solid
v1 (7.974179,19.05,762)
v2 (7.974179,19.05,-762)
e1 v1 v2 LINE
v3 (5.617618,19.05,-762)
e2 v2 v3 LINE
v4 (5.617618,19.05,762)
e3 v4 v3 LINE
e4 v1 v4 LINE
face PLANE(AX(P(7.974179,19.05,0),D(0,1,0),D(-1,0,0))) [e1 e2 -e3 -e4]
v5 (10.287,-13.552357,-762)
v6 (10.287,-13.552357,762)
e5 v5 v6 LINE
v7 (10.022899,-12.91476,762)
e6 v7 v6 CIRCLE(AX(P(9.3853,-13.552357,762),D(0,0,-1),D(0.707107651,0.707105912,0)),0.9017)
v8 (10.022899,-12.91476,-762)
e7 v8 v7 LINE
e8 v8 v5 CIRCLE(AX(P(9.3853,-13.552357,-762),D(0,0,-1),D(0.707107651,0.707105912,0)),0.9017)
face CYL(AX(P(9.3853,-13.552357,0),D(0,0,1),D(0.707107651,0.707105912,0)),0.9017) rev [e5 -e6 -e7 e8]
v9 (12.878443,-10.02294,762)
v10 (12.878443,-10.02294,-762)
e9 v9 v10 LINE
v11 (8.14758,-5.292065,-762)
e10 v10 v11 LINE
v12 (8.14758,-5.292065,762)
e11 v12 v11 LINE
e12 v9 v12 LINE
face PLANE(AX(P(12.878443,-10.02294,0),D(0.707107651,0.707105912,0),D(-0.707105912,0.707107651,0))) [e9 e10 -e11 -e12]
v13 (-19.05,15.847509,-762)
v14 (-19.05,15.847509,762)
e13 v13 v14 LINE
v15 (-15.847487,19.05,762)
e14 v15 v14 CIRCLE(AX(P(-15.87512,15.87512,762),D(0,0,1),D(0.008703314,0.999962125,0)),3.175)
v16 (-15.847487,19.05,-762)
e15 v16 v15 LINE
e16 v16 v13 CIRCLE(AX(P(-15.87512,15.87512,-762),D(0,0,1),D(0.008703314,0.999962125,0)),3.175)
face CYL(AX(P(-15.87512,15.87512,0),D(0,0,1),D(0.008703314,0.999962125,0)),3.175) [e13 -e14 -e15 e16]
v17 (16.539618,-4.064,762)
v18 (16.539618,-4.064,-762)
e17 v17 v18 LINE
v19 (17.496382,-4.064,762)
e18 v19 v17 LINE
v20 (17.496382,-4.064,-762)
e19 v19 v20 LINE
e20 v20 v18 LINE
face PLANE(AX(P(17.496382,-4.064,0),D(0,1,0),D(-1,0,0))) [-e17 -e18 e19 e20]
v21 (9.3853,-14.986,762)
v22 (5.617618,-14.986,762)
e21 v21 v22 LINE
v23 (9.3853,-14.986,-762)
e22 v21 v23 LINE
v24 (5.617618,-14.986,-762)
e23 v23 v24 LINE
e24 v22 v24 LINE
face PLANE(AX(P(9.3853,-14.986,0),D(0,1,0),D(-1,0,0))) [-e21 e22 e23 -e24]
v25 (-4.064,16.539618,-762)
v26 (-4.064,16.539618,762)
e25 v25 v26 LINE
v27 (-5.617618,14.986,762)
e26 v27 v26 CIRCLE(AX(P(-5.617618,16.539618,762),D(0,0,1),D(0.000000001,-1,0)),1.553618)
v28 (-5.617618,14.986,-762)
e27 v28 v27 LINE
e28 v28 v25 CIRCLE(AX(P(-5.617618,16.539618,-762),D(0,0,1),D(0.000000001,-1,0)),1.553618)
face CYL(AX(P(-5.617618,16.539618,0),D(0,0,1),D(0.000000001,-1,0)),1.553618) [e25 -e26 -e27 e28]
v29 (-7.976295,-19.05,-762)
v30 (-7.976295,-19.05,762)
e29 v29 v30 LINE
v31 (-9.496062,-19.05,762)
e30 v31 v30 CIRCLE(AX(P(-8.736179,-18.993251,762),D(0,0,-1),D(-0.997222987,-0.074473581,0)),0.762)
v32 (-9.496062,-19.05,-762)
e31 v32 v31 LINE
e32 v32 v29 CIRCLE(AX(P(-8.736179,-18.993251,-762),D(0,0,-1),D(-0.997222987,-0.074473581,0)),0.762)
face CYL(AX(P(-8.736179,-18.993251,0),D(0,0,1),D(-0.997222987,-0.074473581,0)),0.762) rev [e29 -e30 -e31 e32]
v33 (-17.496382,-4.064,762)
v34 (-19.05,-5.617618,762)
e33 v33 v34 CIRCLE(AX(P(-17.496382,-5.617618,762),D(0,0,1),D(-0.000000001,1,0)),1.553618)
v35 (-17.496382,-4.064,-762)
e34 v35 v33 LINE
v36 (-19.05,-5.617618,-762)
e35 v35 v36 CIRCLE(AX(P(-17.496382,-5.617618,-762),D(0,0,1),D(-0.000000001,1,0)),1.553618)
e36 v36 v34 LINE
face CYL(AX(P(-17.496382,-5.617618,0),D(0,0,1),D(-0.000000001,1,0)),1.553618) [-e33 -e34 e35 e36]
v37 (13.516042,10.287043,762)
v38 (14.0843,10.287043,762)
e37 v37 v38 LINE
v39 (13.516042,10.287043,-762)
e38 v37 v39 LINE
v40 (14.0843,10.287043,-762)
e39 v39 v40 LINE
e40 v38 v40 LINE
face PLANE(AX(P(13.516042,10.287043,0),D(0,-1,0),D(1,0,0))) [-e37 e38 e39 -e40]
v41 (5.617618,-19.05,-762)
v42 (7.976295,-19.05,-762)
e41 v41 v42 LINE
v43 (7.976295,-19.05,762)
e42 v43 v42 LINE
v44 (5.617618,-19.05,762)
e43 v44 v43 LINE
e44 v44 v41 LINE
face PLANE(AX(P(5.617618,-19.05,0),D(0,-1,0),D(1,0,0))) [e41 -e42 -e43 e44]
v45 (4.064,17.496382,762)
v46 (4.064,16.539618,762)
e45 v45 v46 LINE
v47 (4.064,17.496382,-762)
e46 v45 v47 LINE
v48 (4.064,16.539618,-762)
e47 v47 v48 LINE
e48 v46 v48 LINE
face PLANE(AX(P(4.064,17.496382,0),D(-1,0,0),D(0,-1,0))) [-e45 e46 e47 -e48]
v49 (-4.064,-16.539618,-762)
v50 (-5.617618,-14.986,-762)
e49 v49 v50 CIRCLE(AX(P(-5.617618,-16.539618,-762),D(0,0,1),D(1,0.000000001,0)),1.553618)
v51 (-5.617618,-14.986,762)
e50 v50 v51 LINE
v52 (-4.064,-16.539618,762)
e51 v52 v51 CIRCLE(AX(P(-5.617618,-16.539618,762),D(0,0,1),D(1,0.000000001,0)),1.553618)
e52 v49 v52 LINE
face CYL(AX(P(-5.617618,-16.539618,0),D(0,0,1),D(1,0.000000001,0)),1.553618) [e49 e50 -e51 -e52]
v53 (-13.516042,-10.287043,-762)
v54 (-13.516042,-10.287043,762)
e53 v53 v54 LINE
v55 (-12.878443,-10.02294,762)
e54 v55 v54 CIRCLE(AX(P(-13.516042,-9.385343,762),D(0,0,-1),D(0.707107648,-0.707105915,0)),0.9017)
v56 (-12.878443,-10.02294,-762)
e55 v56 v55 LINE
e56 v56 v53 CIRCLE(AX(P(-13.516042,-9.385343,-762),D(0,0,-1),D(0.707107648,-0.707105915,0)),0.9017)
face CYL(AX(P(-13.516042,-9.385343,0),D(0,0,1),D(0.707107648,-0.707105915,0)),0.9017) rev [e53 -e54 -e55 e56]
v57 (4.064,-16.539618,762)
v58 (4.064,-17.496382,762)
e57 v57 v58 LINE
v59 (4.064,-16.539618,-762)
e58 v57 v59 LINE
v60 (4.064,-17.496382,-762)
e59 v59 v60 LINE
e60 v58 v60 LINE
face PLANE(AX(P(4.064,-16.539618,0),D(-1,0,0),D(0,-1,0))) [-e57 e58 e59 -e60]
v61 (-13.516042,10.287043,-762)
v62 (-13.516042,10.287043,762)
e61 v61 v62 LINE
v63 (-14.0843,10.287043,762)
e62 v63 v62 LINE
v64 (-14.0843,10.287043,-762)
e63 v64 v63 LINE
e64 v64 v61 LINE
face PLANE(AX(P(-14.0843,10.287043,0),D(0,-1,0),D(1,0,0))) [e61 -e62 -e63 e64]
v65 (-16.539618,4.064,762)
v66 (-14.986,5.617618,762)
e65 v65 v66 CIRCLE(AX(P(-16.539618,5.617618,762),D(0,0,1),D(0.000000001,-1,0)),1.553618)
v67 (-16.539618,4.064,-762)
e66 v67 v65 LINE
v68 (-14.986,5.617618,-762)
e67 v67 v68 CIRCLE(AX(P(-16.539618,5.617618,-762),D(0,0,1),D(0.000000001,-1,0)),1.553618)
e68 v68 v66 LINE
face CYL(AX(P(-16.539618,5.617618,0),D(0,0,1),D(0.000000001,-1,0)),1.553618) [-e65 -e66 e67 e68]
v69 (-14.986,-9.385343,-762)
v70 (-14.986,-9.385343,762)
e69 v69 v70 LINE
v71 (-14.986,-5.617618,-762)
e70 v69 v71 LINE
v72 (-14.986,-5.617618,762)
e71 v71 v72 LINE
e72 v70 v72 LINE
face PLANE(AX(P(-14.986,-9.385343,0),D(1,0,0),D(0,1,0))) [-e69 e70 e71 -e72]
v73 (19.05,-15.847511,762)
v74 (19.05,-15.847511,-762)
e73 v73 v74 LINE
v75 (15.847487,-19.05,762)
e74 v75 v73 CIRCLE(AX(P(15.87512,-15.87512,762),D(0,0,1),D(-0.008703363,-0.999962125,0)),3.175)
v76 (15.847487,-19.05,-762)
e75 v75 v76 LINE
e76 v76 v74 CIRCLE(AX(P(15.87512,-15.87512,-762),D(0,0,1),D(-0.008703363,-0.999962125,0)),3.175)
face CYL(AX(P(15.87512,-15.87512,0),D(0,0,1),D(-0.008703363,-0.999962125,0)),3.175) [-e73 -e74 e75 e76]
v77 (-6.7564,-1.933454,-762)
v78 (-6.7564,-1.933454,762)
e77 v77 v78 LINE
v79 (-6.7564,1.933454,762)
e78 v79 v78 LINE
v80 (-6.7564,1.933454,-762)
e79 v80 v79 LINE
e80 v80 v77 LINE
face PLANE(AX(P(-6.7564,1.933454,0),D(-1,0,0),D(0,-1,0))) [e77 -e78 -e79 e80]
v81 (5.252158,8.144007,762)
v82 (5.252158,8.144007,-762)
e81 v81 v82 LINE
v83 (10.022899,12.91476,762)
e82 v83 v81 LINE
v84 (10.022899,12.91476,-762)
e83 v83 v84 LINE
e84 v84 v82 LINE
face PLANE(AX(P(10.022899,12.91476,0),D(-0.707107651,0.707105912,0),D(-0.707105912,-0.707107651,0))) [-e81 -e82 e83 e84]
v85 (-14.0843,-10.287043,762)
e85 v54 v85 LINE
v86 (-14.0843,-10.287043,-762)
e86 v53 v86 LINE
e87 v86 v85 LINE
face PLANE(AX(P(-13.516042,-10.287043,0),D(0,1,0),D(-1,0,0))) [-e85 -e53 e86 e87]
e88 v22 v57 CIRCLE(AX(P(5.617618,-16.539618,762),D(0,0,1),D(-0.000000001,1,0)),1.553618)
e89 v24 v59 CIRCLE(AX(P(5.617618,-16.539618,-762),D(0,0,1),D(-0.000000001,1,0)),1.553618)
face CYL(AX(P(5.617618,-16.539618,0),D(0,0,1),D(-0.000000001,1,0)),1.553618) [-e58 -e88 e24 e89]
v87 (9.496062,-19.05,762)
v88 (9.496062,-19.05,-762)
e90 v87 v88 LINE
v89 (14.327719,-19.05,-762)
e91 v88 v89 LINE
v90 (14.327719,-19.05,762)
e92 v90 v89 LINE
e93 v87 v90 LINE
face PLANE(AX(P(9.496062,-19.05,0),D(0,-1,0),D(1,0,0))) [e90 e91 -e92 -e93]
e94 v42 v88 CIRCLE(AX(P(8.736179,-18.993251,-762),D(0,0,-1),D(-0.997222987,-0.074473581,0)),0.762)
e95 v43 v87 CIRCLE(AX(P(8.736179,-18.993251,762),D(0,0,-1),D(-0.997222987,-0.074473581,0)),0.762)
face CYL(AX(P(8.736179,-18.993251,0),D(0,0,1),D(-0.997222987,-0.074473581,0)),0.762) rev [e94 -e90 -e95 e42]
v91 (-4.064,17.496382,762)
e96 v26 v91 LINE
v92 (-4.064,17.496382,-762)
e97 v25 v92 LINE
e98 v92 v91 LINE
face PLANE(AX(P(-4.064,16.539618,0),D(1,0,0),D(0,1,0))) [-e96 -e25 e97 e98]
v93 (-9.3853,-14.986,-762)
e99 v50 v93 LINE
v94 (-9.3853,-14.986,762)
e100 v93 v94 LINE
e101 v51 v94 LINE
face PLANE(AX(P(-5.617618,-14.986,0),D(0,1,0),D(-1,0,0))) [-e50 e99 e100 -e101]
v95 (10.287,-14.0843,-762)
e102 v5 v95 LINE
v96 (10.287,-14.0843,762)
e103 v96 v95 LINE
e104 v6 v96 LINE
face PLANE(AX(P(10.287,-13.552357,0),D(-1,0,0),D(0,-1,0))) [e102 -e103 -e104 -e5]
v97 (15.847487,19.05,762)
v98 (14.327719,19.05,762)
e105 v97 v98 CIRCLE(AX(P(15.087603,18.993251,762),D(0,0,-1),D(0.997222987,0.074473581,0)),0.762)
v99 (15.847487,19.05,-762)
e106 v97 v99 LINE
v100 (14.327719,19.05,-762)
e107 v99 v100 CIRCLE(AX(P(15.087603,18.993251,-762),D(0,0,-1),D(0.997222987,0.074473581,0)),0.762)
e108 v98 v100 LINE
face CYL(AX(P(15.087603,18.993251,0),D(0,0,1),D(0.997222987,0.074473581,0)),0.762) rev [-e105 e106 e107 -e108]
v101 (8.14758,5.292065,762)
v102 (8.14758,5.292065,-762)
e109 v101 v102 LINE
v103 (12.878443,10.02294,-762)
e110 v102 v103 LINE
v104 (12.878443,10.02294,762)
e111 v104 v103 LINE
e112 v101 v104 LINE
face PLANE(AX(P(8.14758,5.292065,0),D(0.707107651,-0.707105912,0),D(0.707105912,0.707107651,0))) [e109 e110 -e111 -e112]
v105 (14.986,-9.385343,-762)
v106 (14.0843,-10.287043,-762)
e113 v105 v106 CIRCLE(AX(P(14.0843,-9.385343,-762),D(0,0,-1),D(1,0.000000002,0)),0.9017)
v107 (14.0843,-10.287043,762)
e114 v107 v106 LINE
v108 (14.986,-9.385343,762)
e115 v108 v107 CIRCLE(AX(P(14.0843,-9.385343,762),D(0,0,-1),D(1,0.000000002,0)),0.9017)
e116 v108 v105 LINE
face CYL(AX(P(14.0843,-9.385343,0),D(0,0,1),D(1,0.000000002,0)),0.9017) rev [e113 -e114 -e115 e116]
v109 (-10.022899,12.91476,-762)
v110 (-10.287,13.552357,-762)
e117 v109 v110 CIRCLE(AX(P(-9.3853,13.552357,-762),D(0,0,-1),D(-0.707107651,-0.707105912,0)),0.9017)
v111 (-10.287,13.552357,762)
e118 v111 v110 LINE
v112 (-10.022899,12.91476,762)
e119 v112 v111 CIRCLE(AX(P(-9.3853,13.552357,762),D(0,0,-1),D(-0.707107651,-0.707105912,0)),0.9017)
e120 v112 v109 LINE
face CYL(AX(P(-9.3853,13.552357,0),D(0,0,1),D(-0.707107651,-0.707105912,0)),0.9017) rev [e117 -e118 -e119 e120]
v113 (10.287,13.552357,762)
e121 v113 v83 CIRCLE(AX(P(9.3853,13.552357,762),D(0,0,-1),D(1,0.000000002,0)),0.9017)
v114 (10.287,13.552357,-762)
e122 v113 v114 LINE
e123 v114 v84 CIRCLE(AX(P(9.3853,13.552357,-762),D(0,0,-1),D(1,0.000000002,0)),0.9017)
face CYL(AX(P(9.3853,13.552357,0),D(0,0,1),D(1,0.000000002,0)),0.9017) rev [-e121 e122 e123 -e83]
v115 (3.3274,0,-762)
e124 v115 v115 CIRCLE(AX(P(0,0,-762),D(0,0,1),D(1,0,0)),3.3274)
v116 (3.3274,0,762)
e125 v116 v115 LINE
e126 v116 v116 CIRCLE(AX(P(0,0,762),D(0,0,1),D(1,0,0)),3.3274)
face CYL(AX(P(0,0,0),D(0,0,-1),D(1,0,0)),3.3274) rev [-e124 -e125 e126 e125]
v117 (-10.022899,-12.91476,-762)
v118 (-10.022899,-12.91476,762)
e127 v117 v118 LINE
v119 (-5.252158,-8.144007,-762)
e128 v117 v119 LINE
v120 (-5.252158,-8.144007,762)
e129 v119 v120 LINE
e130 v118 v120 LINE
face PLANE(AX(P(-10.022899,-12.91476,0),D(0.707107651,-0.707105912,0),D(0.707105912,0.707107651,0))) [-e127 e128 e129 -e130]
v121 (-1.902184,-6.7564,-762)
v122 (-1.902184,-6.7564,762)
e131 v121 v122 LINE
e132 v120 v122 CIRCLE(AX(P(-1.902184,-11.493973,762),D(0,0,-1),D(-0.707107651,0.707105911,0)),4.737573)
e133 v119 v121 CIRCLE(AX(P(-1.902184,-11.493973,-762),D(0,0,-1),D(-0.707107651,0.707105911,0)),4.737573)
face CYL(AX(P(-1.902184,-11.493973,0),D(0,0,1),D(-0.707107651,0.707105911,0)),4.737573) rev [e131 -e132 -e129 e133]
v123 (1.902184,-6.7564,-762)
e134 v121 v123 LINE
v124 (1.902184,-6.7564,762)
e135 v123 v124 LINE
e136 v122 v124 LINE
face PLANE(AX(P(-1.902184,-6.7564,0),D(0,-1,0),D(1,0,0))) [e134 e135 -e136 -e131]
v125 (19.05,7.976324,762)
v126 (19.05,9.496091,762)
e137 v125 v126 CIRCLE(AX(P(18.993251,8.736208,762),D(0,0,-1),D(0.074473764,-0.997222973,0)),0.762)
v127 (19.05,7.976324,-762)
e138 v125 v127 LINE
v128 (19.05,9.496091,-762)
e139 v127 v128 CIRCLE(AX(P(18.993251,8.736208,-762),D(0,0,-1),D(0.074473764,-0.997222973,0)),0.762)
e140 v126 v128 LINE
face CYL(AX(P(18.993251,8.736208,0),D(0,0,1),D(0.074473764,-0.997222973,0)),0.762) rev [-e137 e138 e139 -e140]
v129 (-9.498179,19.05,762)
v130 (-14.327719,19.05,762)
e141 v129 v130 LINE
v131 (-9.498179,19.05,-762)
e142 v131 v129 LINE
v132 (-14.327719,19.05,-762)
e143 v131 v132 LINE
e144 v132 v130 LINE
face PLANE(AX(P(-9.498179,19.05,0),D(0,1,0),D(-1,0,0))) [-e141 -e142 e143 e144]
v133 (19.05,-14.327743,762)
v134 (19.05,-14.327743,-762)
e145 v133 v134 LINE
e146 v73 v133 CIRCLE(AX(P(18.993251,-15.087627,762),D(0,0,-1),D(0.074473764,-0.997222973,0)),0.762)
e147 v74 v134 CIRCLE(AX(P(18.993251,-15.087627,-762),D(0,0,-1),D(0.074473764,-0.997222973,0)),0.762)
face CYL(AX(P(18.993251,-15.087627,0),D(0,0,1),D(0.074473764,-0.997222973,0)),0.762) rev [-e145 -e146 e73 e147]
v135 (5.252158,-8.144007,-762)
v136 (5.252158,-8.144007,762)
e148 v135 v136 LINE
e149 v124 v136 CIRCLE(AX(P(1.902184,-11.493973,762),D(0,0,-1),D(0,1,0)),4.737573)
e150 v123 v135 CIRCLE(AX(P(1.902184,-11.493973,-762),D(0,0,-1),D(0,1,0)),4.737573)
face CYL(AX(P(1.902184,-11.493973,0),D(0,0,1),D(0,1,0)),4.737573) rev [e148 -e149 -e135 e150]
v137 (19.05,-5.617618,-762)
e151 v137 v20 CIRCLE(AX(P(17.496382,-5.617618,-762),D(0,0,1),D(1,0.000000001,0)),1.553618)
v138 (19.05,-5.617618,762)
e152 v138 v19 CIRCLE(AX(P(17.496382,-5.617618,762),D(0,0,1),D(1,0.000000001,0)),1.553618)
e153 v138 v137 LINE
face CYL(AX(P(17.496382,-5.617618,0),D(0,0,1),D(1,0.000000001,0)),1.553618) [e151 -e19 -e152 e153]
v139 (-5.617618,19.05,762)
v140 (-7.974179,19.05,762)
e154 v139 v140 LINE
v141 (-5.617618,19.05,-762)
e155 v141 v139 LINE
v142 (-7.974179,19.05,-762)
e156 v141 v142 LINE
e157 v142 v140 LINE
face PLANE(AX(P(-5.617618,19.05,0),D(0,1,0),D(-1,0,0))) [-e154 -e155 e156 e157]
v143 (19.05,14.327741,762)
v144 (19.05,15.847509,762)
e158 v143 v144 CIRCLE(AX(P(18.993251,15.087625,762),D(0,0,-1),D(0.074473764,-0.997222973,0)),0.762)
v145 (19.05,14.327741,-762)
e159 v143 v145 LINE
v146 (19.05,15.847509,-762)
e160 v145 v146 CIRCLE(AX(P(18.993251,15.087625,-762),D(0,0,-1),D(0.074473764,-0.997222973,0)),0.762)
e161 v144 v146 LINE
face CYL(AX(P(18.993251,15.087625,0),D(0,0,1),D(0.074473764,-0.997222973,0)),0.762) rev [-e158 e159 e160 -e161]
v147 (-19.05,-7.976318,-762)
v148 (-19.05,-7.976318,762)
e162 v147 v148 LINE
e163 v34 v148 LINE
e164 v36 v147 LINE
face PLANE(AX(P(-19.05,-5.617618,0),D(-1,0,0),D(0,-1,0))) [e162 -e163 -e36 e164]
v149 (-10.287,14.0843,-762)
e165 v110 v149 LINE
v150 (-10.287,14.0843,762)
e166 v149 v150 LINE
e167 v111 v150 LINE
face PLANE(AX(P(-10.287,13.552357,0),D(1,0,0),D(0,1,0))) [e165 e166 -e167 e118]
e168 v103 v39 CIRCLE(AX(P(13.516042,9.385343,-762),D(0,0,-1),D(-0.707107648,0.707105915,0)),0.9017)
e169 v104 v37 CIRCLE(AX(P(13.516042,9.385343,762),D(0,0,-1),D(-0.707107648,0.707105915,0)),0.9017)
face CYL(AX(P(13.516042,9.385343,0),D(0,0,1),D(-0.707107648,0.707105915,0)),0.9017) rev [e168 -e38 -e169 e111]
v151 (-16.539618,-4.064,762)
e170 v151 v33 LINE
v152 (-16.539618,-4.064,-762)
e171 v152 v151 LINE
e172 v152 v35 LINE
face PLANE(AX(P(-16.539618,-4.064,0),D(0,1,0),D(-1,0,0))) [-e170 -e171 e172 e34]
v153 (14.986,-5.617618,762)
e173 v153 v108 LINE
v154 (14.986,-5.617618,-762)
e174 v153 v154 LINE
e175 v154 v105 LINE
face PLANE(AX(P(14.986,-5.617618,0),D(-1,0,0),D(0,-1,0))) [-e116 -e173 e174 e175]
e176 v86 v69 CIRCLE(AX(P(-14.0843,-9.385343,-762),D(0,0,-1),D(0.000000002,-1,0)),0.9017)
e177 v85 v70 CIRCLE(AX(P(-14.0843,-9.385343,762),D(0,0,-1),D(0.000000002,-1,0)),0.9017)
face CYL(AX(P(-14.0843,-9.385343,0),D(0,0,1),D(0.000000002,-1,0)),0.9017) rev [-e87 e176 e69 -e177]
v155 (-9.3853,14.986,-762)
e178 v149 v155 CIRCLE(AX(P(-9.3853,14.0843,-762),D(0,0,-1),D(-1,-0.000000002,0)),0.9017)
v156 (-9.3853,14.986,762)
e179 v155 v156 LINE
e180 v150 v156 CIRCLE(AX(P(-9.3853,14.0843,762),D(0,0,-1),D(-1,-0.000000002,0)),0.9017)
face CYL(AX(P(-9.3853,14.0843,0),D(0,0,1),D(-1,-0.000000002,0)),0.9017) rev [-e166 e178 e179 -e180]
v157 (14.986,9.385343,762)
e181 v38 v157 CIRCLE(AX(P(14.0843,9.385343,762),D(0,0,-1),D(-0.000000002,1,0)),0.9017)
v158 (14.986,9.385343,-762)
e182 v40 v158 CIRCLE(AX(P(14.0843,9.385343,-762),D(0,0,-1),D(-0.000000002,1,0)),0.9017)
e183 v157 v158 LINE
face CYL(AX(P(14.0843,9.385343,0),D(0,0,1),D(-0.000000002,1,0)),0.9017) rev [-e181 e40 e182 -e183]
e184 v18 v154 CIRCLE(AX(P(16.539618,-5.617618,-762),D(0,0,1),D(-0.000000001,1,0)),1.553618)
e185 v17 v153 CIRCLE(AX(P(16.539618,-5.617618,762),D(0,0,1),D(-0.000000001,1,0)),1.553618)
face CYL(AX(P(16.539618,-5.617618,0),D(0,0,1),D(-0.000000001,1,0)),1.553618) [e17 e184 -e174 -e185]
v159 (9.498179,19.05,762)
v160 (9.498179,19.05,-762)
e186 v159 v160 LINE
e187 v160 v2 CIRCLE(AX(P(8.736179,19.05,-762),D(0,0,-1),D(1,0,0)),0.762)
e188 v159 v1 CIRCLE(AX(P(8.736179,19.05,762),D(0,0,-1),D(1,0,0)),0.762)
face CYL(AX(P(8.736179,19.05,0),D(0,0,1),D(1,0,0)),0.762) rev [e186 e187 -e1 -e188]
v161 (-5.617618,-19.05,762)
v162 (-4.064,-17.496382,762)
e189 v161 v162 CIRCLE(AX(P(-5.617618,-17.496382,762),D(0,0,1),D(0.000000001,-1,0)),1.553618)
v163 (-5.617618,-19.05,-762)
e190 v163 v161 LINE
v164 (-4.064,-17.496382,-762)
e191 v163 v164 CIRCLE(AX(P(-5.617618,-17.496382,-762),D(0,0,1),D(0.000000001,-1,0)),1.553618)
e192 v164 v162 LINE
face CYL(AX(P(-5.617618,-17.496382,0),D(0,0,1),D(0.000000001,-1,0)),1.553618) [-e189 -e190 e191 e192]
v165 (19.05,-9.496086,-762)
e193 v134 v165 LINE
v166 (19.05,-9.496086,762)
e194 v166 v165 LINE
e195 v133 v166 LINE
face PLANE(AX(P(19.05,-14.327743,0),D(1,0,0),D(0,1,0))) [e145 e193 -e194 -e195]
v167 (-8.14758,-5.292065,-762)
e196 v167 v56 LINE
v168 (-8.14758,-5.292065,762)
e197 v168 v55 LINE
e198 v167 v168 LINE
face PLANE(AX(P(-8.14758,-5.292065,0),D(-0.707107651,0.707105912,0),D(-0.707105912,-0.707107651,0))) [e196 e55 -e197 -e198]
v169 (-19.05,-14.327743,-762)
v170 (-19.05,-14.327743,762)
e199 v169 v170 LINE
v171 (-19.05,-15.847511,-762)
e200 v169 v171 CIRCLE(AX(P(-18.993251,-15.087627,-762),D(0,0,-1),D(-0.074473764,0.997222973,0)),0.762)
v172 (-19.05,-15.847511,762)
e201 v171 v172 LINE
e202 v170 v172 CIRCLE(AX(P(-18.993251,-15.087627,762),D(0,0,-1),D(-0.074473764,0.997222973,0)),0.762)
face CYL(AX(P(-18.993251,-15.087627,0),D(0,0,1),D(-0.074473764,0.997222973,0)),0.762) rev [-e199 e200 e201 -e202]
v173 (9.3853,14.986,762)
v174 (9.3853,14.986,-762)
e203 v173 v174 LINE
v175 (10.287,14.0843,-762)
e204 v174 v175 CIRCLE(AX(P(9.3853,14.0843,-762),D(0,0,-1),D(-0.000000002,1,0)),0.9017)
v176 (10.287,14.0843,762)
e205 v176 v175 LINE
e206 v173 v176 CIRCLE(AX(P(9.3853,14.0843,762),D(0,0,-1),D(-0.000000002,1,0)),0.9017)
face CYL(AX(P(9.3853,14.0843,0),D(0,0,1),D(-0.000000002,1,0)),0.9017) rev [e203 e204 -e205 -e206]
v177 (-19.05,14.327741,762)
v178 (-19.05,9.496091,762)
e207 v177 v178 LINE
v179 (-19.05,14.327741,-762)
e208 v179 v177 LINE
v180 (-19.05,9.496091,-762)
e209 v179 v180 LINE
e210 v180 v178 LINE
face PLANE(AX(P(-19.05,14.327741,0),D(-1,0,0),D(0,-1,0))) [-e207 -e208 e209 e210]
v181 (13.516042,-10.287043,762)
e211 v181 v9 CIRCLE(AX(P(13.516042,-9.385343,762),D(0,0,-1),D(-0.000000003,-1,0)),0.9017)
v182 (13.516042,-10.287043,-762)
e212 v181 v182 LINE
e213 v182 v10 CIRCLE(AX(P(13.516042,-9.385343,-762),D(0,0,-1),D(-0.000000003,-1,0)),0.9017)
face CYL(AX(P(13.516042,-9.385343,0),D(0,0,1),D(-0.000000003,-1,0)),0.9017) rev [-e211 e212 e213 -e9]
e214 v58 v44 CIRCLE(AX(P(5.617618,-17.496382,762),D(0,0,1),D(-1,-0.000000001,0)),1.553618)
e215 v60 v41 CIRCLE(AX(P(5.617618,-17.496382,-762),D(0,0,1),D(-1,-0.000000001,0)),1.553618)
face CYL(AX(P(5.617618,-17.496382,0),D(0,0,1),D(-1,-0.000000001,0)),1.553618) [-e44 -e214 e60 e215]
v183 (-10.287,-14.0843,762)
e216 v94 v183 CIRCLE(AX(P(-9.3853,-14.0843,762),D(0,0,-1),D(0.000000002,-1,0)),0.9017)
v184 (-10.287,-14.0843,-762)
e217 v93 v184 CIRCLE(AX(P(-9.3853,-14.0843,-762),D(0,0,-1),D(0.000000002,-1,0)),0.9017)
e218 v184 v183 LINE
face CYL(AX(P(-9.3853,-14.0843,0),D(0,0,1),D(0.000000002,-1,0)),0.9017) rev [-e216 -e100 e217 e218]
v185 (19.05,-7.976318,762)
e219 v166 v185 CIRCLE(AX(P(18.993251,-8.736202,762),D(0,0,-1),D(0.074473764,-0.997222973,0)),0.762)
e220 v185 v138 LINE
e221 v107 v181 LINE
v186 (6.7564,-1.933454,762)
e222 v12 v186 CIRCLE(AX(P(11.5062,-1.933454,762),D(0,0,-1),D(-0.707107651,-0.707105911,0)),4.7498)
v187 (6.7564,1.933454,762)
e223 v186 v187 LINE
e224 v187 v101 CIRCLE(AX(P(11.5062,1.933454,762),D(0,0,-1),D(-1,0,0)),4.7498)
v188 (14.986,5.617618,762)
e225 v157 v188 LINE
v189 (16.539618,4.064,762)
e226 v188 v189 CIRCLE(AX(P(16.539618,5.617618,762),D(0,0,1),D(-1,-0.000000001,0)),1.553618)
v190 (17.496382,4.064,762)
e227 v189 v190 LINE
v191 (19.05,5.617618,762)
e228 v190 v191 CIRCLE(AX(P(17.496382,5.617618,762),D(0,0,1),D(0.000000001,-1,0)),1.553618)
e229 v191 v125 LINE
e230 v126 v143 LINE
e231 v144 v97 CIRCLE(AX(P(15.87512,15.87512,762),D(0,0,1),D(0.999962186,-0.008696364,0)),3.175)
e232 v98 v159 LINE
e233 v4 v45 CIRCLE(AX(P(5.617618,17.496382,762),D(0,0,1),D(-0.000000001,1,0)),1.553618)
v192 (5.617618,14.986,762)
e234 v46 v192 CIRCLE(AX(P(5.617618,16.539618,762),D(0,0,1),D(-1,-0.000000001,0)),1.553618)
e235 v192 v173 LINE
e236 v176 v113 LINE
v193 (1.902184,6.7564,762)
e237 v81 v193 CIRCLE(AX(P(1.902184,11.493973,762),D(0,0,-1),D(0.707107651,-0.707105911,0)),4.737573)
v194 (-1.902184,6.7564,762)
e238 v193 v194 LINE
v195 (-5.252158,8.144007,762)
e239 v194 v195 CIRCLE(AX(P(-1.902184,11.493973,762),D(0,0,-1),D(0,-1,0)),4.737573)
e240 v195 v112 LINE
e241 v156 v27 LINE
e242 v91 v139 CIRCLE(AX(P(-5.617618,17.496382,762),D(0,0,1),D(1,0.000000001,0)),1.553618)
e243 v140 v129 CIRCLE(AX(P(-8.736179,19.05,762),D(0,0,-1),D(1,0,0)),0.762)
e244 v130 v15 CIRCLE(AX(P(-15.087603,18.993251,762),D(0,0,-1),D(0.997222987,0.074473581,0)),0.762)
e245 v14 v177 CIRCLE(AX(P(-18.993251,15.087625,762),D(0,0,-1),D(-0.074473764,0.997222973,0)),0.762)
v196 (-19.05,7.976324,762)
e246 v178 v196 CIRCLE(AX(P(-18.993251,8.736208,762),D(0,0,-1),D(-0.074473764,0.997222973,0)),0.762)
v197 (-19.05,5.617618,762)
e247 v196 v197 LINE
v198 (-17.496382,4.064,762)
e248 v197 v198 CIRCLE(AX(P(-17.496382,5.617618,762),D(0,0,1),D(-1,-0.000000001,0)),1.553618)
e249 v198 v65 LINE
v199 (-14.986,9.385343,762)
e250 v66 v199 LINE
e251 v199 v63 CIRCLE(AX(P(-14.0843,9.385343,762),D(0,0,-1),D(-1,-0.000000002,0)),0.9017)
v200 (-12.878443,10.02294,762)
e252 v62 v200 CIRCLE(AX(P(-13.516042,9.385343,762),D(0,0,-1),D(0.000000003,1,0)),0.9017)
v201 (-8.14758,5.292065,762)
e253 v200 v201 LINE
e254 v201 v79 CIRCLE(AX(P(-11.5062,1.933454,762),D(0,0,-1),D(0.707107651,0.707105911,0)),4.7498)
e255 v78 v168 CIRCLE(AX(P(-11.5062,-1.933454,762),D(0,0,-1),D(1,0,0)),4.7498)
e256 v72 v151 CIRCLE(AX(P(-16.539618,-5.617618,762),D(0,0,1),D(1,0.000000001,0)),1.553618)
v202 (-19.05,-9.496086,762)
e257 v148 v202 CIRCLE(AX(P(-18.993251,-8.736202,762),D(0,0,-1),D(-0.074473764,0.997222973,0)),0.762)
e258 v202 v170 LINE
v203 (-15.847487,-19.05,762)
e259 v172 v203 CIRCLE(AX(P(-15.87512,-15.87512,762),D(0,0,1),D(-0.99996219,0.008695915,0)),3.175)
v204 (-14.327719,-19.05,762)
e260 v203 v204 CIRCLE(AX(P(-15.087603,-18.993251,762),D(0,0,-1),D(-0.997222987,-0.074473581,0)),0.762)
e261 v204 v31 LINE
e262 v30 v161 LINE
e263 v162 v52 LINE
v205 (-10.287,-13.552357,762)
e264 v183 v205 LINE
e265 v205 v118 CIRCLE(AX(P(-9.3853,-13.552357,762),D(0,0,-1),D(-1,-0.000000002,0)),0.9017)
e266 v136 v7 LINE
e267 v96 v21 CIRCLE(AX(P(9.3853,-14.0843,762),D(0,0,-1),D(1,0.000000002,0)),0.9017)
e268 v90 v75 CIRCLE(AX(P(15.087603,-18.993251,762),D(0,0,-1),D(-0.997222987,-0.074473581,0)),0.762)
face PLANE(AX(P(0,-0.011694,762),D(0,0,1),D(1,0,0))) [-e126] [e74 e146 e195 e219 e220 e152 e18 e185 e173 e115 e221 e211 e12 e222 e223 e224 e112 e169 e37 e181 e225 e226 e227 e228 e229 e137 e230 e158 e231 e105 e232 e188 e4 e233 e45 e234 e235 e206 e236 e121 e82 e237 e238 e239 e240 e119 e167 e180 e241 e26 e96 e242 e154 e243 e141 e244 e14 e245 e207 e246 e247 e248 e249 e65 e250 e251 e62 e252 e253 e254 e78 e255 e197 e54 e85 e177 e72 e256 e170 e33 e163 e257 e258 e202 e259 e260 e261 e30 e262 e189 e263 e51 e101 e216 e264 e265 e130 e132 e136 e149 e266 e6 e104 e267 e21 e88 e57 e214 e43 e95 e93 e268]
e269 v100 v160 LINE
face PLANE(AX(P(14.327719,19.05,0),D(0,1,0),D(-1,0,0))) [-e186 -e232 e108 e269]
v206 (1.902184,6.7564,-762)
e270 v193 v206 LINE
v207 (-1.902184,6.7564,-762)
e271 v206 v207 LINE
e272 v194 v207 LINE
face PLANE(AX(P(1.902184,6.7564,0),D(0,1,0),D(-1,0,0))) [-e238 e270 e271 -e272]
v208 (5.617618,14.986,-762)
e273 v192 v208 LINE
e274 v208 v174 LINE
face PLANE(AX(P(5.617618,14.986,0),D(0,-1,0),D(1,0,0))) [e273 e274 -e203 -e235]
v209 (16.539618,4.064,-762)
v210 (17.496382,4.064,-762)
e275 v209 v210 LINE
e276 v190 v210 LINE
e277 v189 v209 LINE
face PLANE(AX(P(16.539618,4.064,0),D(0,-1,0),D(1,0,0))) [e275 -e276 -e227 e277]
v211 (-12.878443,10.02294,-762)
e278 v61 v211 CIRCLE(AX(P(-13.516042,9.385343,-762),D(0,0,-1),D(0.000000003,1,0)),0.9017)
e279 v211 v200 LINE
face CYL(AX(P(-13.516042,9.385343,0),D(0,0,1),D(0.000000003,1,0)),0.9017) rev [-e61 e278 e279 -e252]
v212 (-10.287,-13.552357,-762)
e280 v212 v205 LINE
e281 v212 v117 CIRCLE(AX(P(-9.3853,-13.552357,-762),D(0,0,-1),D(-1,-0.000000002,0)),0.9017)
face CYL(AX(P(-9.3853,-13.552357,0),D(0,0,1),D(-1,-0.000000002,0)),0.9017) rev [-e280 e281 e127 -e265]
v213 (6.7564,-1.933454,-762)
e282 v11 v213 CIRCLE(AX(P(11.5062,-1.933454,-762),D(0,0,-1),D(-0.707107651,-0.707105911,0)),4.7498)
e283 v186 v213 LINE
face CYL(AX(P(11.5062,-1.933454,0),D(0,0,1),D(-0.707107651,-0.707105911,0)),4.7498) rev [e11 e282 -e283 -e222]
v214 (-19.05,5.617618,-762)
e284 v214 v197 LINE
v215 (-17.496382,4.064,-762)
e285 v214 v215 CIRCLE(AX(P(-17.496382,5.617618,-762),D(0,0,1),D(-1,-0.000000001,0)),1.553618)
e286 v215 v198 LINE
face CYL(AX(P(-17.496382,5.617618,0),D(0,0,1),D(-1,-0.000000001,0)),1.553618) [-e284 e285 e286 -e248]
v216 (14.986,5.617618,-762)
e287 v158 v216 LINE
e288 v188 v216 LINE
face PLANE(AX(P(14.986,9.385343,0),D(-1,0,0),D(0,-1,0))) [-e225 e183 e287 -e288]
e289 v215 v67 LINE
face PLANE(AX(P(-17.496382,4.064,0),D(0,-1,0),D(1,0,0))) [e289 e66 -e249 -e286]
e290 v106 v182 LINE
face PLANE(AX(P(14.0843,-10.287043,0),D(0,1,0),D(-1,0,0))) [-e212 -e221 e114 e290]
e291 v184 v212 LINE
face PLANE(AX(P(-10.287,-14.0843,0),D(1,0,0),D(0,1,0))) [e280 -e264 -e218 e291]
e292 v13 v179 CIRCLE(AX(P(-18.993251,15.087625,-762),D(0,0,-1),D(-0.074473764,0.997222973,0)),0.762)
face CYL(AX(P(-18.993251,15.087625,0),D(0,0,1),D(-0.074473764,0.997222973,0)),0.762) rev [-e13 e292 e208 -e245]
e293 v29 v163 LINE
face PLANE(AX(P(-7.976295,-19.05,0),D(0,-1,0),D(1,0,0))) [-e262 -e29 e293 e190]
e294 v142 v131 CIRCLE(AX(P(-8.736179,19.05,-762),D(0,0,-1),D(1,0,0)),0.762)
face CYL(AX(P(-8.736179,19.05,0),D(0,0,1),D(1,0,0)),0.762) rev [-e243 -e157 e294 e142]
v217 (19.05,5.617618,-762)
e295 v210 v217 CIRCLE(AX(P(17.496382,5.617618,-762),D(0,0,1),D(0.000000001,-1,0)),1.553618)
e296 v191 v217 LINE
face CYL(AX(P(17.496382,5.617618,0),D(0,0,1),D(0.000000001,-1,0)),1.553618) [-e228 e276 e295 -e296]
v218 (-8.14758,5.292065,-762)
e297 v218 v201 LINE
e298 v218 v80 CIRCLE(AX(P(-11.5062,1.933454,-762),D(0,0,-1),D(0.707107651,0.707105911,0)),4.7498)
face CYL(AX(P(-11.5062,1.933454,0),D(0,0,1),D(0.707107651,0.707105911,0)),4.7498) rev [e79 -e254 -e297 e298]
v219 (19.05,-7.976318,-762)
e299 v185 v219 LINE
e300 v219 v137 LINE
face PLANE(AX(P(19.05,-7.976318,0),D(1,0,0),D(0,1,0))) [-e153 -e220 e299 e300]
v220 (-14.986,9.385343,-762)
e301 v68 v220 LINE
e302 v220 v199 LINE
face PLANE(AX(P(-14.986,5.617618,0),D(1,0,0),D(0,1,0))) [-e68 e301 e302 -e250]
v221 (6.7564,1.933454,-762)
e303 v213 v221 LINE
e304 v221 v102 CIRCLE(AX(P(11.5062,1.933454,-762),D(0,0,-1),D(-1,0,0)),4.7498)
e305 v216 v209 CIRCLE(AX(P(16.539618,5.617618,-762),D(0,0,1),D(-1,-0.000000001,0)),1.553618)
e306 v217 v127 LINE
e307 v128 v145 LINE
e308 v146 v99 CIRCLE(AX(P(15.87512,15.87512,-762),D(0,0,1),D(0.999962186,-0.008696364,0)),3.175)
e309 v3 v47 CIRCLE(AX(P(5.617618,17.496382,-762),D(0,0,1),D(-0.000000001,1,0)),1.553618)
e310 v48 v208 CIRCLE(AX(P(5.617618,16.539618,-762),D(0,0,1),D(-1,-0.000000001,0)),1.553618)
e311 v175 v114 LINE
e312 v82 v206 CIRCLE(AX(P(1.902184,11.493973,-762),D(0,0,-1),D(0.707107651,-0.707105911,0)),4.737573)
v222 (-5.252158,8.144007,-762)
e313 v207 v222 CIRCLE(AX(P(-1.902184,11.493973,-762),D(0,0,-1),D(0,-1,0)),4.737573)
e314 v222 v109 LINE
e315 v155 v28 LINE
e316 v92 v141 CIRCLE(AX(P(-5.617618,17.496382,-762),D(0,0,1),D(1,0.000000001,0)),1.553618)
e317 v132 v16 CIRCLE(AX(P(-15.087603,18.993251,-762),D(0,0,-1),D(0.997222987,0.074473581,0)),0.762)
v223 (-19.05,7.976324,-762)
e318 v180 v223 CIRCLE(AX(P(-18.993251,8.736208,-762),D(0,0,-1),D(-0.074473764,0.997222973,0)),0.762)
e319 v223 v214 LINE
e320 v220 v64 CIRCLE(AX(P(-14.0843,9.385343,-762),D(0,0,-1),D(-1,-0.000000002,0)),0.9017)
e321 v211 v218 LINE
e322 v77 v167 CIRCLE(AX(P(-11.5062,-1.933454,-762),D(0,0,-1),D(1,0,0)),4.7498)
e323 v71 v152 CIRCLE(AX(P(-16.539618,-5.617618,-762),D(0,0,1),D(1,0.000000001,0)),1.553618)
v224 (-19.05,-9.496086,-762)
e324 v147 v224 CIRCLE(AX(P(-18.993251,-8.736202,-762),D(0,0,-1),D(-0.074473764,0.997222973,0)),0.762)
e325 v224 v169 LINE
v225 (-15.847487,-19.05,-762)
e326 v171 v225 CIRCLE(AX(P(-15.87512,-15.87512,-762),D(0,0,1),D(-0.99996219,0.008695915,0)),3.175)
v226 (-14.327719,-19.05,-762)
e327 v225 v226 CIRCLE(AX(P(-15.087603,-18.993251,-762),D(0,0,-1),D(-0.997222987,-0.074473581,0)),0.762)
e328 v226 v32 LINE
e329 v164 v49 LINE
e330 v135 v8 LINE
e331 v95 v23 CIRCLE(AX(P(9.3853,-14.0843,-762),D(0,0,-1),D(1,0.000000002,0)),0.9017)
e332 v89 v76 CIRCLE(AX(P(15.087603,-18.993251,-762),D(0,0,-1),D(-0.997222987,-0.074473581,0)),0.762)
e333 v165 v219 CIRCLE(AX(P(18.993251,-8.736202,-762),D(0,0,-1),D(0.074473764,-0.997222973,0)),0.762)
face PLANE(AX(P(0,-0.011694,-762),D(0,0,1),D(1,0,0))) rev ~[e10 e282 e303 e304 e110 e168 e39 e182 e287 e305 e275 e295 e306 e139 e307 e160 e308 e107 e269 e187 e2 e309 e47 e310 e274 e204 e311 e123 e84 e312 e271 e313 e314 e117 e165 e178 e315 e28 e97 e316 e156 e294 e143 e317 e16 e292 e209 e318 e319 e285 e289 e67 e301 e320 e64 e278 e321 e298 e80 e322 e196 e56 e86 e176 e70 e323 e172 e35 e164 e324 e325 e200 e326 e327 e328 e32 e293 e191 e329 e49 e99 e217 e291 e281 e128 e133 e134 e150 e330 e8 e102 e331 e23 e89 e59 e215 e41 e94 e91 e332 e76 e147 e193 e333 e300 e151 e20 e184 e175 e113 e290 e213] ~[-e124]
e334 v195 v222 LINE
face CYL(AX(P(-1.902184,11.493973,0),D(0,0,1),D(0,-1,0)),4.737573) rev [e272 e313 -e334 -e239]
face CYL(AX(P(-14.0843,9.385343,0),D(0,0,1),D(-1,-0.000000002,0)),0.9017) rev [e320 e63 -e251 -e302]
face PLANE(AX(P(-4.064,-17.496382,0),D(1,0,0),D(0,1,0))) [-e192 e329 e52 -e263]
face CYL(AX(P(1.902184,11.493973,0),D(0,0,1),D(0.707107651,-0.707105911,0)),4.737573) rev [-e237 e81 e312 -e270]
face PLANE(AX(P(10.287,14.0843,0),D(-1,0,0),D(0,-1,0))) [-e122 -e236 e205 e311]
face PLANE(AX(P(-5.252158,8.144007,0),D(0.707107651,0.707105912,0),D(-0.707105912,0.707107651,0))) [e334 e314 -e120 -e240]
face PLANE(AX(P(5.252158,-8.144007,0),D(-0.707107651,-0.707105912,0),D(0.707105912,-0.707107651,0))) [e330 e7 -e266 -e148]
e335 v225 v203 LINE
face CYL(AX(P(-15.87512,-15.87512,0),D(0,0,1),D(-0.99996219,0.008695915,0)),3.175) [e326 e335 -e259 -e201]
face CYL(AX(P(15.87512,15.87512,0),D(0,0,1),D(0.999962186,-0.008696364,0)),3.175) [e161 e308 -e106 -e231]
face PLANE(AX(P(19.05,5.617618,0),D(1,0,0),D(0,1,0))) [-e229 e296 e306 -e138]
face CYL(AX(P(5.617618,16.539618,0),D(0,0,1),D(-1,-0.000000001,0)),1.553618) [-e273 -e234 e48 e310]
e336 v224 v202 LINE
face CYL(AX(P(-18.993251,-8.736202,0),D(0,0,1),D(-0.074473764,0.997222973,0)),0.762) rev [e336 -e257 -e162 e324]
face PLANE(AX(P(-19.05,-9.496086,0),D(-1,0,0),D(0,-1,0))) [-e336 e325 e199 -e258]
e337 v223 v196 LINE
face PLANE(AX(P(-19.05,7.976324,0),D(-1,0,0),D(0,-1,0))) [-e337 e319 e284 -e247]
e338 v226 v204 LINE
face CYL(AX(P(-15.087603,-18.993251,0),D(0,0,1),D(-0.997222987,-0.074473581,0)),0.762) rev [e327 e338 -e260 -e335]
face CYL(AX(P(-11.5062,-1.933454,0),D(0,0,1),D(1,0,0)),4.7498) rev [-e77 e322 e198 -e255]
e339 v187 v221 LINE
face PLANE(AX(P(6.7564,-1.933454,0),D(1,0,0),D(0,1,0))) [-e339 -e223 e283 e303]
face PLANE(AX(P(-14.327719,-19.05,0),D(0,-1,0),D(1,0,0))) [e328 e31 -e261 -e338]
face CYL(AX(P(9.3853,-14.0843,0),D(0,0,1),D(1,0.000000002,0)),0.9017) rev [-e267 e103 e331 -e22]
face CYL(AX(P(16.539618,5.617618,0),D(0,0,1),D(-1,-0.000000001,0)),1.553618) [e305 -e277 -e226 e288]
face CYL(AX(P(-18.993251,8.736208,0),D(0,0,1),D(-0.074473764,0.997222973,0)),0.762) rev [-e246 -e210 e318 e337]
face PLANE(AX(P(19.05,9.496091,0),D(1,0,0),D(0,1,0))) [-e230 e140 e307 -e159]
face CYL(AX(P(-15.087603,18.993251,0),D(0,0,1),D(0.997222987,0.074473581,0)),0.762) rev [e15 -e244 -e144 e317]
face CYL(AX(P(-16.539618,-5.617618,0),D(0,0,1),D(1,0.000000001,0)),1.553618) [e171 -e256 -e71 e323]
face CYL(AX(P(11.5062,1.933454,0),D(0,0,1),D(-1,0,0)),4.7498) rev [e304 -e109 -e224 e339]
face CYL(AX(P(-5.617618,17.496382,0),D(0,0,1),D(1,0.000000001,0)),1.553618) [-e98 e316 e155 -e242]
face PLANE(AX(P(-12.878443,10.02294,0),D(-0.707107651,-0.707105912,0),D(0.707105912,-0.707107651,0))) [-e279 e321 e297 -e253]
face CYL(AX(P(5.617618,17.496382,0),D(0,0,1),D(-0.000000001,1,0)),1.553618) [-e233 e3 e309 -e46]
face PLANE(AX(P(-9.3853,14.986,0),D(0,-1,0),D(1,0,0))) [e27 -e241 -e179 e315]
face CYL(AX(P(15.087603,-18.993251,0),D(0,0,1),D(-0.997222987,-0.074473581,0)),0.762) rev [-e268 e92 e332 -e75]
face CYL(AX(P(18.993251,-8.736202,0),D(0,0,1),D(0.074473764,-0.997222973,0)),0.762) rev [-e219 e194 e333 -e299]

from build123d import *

# Parameters (mm, degrees)
SKETCH1_R           = 3.3274
BOSS_EXTRUDE1_DEPTH = 762


with BuildPart() as part:
    # Sketch1 → Boss-Extrude1 (new, symmetric)
    with BuildSketch(Plane.XY):
        with BuildLine():
            Line((-10.287, 13.552357131), (-10.287, 14.0843))
            ThreePointArc((-10.287, 14.0843), (-10.022898185, 14.721898185), (-9.3853, 14.986))
            Line((-9.3853, 14.986), (-5.617617549, 14.986))
            ThreePointArc((-5.617617549, 14.986), (-4.519044045, 15.441044045), (-4.064, 16.539617549))
            Line((-4.064, 16.539617549), (-4.064, 17.496382451))
            ThreePointArc((-4.064, 17.496382451), (-4.519044045, 18.594955955), (-5.617617549, 19.05))
            Line((-5.617617549, 19.05), (-7.974178704, 19.05))
            ThreePointArc((-7.974178704, 19.05), (-8.736178704, 18.288), (-9.498178704, 19.05))
            Line((-9.498178704, 19.05), (-14.327719207, 19.05))
            ThreePointArc((-14.327719207, 19.05), (-15.087603123, 18.231251131), (-15.847487039, 19.05))
            ThreePointArc((-15.847487039, 19.05), (-18.120176289, 18.120192083), (-19.05, 15.847509295))
            ThreePointArc((-19.05, 15.847509295), (-18.231250992, 15.08762539), (-19.05, 14.327741484))
            Line((-19.05, 14.327741484), (-19.05, 9.496091471))
            ThreePointArc((-19.05, 9.496091471), (-18.231250992, 8.736207565), (-19.05, 7.97632366))
            Line((-19.05, 7.97632366), (-19.05, 5.617617549))
            ThreePointArc((-19.05, 5.617617549), (-18.594955955, 4.519044045), (-17.496382451, 4.064))
            Line((-17.496382451, 4.064), (-16.539617549, 4.064))
            ThreePointArc((-16.539617549, 4.064), (-15.441044045, 4.519044045), (-14.986, 5.617617549))
            Line((-14.986, 5.617617549), (-14.986, 9.385342516))
            ThreePointArc((-14.986, 9.385342516), (-14.721898185, 10.022940701), (-14.0843, 10.287042516))
            Line((-14.0843, 10.287042516), (-13.516042086, 10.287042516))
            ThreePointArc((-13.516042086, 10.287042516), (-13.170975923, 10.218404478), (-12.878443117, 10.022939917))
            Line((-12.878443117, 10.022939917), (-8.14758008, 5.292065243))
            ThreePointArc((-8.14758008, 5.292065243), (-7.117955879, 3.751120653), (-6.7564, 1.933453584))
            Line((-6.7564, 1.933453584), (-6.7564, -1.933453584))
            ThreePointArc((-6.7564, -1.933453584), (-7.117955879, -3.751120653), (-8.14758008, -5.292065243))
            Line((-8.14758008, -5.292065243), (-12.878443117, -10.022939917))
            ThreePointArc((-12.878443117, -10.022939917), (-13.170975923, -10.218404478), (-13.516042086, -10.287042516))
            Line((-13.516042086, -10.287042516), (-14.0843, -10.287042516))
            ThreePointArc((-14.0843, -10.287042516), (-14.721898185, -10.022940701), (-14.986, -9.385342516))
            Line((-14.986, -9.385342516), (-14.986, -5.617617549))
            ThreePointArc((-14.986, -5.617617549), (-15.441044045, -4.519044045), (-16.539617549, -4.064))
            Line((-16.539617549, -4.064), (-17.496382451, -4.064))
            ThreePointArc((-17.496382451, -4.064), (-18.594955955, -4.519044045), (-19.05, -5.617617549))
            Line((-19.05, -5.617617549), (-19.05, -7.976318491))
            ThreePointArc((-19.05, -7.976318491), (-18.231250992, -8.736202396), (-19.05, -9.496086302))
            Line((-19.05, -9.496086302), (-19.05, -14.32774291))
            ThreePointArc((-19.05, -14.32774291), (-18.231250992, -15.087626816), (-19.05, -15.847510721))
            ThreePointArc((-19.05, -15.847510721), (-18.120175716, -18.120192644), (-15.847486868, -19.05))
            ThreePointArc((-15.847486868, -19.05), (-15.087602952, -18.231251131), (-14.327719036, -19.05))
            Line((-14.327719036, -19.05), (-9.496062448, -19.05))
            ThreePointArc((-9.496062448, -19.05), (-8.736178532, -18.231251131), (-7.976294616, -19.05))
            Line((-7.976294616, -19.05), (-5.617617549, -19.05))
            ThreePointArc((-5.617617549, -19.05), (-4.519044045, -18.594955955), (-4.064, -17.496382451))
            Line((-4.064, -17.496382451), (-4.064, -16.539617549))
            ThreePointArc((-4.064, -16.539617549), (-4.519044045, -15.441044045), (-5.617617549, -14.986))
            Line((-5.617617549, -14.986), (-9.3853, -14.986))
            ThreePointArc((-9.3853, -14.986), (-10.022898185, -14.721898185), (-10.287, -14.0843))
            Line((-10.287, -14.0843), (-10.287, -13.552357131))
            ThreePointArc((-10.287, -13.552357131), (-10.218362387, -13.207291992), (-10.022898969, -12.91475973))
            Line((-10.022898969, -12.91475973), (-5.252158105, -8.144007132))
            ThreePointArc((-5.252158105, -8.144007132), (-3.715177372, -7.117027388), (-1.902183975, -6.7564))
            Line((-1.902183975, -6.7564), (1.902183975, -6.7564))
            ThreePointArc((1.902183975, -6.7564), (3.715177372, -7.117027388), (5.252158105, -8.144007132))
            Line((5.252158105, -8.144007132), (10.022898969, -12.91475973))
            ThreePointArc((10.022898969, -12.91475973), (10.218362387, -13.207291992), (10.287, -13.552357131))
            Line((10.287, -13.552357131), (10.287, -14.0843))
            ThreePointArc((10.287, -14.0843), (10.022898185, -14.721898185), (9.3853, -14.986))
            Line((9.3853, -14.986), (5.617617549, -14.986))
            ThreePointArc((5.617617549, -14.986), (4.519044045, -15.441044045), (4.064, -16.539617549))
            Line((4.064, -16.539617549), (4.064, -17.496382451))
            ThreePointArc((4.064, -17.496382451), (4.519044045, -18.594955955), (5.617617549, -19.05))
            Line((5.617617549, -19.05), (7.976294616, -19.05))
            ThreePointArc((7.976294616, -19.05), (8.736178532, -18.231251131), (9.496062448, -19.05))
            Line((9.496062448, -19.05), (14.327719036, -19.05))
            ThreePointArc((14.327719036, -19.05), (15.087602952, -18.231251131), (15.847486868, -19.05))
            ThreePointArc((15.847486868, -19.05), (18.120175716, -18.120192644), (19.05, -15.847510721))
            ThreePointArc((19.05, -15.847510721), (18.231250992, -15.087626816), (19.05, -14.32774291))
            Line((19.05, -14.32774291), (19.05, -9.496086302))
            ThreePointArc((19.05, -9.496086302), (18.231250992, -8.736202396), (19.05, -7.976318491))
            Line((19.05, -7.976318491), (19.05, -5.617617549))
            ThreePointArc((19.05, -5.617617549), (18.594955955, -4.519044045), (17.496382451, -4.064))
            Line((17.496382451, -4.064), (16.539617549, -4.064))
            ThreePointArc((16.539617549, -4.064), (15.441044045, -4.519044045), (14.986, -5.617617549))
            Line((14.986, -5.617617549), (14.986, -9.385342516))
            ThreePointArc((14.986, -9.385342516), (14.721898185, -10.022940701), (14.0843, -10.287042516))
            Line((14.0843, -10.287042516), (13.516042086, -10.287042516))
            ThreePointArc((13.516042086, -10.287042516), (13.170975923, -10.218404478), (12.878443117, -10.022939917))
            Line((12.878443117, -10.022939917), (8.14758008, -5.292065243))
            ThreePointArc((8.14758008, -5.292065243), (7.117955879, -3.751120653), (6.7564, -1.933453584))
            Line((6.7564, -1.933453584), (6.7564, 1.933453584))
            ThreePointArc((6.7564, 1.933453584), (7.117955879, 3.751120653), (8.14758008, 5.292065243))
            Line((8.14758008, 5.292065243), (12.878443117, 10.022939917))
            ThreePointArc((12.878443117, 10.022939917), (13.170975923, 10.218404478), (13.516042086, 10.287042516))
            Line((13.516042086, 10.287042516), (14.0843, 10.287042516))
            ThreePointArc((14.0843, 10.287042516), (14.721898185, 10.022940701), (14.986, 9.385342516))
            Line((14.986, 9.385342516), (14.986, 5.617617549))
            ThreePointArc((14.986, 5.617617549), (15.441044045, 4.519044045), (16.539617549, 4.064))
            Line((16.539617549, 4.064), (17.496382451, 4.064))
            ThreePointArc((17.496382451, 4.064), (18.594955955, 4.519044045), (19.05, 5.617617549))
            Line((19.05, 5.617617549), (19.05, 7.97632366))
            ThreePointArc((19.05, 7.97632366), (18.231250992, 8.736207565), (19.05, 9.496091471))
            Line((19.05, 9.496091471), (19.05, 14.327741484))
            ThreePointArc((19.05, 14.327741484), (18.231250992, 15.08762539), (19.05, 15.847509295))
            ThreePointArc((19.05, 15.847509295), (18.120176289, 18.120192083), (15.847487039, 19.05))
            ThreePointArc((15.847487039, 19.05), (15.087603123, 18.231251131), (14.327719207, 19.05))
            Line((14.327719207, 19.05), (9.498178704, 19.05))
            ThreePointArc((9.498178704, 19.05), (8.736178704, 18.288), (7.974178704, 19.05))
            Line((7.974178704, 19.05), (5.617617549, 19.05))
            ThreePointArc((5.617617549, 19.05), (4.519044045, 18.594955955), (4.064, 17.496382451))
            Line((4.064, 17.496382451), (4.064, 16.539617549))
            ThreePointArc((4.064, 16.539617549), (4.519044045, 15.441044045), (5.617617549, 14.986))
            Line((5.617617549, 14.986), (9.3853, 14.986))
            ThreePointArc((9.3853, 14.986), (10.022898185, 14.721898185), (10.287, 14.0843))
            Line((10.287, 14.0843), (10.287, 13.552357131))
            ThreePointArc((10.287, 13.552357131), (10.218362387, 13.207291992), (10.022898969, 12.91475973))
            Line((10.022898969, 12.91475973), (5.252158105, 8.144007132))
            ThreePointArc((5.252158105, 8.144007132), (3.715177372, 7.117027388), (1.902183975, 6.7564))
            Line((1.902183975, 6.7564), (-1.902183975, 6.7564))
            ThreePointArc((-1.902183975, 6.7564), (-3.715177372, 7.117027388), (-5.252158105, 8.144007132))
            Line((-5.252158105, 8.144007132), (-10.022898969, 12.91475973))
            ThreePointArc((-10.022898969, 12.91475973), (-10.218362387, 13.207291992), (-10.287, 13.552357131))
        make_face()
        Circle(SKETCH1_R, mode=Mode.SUBTRACT)
    extrude(amount=BOSS_EXTRUDE1_DEPTH, both=True)


solid = part.part
